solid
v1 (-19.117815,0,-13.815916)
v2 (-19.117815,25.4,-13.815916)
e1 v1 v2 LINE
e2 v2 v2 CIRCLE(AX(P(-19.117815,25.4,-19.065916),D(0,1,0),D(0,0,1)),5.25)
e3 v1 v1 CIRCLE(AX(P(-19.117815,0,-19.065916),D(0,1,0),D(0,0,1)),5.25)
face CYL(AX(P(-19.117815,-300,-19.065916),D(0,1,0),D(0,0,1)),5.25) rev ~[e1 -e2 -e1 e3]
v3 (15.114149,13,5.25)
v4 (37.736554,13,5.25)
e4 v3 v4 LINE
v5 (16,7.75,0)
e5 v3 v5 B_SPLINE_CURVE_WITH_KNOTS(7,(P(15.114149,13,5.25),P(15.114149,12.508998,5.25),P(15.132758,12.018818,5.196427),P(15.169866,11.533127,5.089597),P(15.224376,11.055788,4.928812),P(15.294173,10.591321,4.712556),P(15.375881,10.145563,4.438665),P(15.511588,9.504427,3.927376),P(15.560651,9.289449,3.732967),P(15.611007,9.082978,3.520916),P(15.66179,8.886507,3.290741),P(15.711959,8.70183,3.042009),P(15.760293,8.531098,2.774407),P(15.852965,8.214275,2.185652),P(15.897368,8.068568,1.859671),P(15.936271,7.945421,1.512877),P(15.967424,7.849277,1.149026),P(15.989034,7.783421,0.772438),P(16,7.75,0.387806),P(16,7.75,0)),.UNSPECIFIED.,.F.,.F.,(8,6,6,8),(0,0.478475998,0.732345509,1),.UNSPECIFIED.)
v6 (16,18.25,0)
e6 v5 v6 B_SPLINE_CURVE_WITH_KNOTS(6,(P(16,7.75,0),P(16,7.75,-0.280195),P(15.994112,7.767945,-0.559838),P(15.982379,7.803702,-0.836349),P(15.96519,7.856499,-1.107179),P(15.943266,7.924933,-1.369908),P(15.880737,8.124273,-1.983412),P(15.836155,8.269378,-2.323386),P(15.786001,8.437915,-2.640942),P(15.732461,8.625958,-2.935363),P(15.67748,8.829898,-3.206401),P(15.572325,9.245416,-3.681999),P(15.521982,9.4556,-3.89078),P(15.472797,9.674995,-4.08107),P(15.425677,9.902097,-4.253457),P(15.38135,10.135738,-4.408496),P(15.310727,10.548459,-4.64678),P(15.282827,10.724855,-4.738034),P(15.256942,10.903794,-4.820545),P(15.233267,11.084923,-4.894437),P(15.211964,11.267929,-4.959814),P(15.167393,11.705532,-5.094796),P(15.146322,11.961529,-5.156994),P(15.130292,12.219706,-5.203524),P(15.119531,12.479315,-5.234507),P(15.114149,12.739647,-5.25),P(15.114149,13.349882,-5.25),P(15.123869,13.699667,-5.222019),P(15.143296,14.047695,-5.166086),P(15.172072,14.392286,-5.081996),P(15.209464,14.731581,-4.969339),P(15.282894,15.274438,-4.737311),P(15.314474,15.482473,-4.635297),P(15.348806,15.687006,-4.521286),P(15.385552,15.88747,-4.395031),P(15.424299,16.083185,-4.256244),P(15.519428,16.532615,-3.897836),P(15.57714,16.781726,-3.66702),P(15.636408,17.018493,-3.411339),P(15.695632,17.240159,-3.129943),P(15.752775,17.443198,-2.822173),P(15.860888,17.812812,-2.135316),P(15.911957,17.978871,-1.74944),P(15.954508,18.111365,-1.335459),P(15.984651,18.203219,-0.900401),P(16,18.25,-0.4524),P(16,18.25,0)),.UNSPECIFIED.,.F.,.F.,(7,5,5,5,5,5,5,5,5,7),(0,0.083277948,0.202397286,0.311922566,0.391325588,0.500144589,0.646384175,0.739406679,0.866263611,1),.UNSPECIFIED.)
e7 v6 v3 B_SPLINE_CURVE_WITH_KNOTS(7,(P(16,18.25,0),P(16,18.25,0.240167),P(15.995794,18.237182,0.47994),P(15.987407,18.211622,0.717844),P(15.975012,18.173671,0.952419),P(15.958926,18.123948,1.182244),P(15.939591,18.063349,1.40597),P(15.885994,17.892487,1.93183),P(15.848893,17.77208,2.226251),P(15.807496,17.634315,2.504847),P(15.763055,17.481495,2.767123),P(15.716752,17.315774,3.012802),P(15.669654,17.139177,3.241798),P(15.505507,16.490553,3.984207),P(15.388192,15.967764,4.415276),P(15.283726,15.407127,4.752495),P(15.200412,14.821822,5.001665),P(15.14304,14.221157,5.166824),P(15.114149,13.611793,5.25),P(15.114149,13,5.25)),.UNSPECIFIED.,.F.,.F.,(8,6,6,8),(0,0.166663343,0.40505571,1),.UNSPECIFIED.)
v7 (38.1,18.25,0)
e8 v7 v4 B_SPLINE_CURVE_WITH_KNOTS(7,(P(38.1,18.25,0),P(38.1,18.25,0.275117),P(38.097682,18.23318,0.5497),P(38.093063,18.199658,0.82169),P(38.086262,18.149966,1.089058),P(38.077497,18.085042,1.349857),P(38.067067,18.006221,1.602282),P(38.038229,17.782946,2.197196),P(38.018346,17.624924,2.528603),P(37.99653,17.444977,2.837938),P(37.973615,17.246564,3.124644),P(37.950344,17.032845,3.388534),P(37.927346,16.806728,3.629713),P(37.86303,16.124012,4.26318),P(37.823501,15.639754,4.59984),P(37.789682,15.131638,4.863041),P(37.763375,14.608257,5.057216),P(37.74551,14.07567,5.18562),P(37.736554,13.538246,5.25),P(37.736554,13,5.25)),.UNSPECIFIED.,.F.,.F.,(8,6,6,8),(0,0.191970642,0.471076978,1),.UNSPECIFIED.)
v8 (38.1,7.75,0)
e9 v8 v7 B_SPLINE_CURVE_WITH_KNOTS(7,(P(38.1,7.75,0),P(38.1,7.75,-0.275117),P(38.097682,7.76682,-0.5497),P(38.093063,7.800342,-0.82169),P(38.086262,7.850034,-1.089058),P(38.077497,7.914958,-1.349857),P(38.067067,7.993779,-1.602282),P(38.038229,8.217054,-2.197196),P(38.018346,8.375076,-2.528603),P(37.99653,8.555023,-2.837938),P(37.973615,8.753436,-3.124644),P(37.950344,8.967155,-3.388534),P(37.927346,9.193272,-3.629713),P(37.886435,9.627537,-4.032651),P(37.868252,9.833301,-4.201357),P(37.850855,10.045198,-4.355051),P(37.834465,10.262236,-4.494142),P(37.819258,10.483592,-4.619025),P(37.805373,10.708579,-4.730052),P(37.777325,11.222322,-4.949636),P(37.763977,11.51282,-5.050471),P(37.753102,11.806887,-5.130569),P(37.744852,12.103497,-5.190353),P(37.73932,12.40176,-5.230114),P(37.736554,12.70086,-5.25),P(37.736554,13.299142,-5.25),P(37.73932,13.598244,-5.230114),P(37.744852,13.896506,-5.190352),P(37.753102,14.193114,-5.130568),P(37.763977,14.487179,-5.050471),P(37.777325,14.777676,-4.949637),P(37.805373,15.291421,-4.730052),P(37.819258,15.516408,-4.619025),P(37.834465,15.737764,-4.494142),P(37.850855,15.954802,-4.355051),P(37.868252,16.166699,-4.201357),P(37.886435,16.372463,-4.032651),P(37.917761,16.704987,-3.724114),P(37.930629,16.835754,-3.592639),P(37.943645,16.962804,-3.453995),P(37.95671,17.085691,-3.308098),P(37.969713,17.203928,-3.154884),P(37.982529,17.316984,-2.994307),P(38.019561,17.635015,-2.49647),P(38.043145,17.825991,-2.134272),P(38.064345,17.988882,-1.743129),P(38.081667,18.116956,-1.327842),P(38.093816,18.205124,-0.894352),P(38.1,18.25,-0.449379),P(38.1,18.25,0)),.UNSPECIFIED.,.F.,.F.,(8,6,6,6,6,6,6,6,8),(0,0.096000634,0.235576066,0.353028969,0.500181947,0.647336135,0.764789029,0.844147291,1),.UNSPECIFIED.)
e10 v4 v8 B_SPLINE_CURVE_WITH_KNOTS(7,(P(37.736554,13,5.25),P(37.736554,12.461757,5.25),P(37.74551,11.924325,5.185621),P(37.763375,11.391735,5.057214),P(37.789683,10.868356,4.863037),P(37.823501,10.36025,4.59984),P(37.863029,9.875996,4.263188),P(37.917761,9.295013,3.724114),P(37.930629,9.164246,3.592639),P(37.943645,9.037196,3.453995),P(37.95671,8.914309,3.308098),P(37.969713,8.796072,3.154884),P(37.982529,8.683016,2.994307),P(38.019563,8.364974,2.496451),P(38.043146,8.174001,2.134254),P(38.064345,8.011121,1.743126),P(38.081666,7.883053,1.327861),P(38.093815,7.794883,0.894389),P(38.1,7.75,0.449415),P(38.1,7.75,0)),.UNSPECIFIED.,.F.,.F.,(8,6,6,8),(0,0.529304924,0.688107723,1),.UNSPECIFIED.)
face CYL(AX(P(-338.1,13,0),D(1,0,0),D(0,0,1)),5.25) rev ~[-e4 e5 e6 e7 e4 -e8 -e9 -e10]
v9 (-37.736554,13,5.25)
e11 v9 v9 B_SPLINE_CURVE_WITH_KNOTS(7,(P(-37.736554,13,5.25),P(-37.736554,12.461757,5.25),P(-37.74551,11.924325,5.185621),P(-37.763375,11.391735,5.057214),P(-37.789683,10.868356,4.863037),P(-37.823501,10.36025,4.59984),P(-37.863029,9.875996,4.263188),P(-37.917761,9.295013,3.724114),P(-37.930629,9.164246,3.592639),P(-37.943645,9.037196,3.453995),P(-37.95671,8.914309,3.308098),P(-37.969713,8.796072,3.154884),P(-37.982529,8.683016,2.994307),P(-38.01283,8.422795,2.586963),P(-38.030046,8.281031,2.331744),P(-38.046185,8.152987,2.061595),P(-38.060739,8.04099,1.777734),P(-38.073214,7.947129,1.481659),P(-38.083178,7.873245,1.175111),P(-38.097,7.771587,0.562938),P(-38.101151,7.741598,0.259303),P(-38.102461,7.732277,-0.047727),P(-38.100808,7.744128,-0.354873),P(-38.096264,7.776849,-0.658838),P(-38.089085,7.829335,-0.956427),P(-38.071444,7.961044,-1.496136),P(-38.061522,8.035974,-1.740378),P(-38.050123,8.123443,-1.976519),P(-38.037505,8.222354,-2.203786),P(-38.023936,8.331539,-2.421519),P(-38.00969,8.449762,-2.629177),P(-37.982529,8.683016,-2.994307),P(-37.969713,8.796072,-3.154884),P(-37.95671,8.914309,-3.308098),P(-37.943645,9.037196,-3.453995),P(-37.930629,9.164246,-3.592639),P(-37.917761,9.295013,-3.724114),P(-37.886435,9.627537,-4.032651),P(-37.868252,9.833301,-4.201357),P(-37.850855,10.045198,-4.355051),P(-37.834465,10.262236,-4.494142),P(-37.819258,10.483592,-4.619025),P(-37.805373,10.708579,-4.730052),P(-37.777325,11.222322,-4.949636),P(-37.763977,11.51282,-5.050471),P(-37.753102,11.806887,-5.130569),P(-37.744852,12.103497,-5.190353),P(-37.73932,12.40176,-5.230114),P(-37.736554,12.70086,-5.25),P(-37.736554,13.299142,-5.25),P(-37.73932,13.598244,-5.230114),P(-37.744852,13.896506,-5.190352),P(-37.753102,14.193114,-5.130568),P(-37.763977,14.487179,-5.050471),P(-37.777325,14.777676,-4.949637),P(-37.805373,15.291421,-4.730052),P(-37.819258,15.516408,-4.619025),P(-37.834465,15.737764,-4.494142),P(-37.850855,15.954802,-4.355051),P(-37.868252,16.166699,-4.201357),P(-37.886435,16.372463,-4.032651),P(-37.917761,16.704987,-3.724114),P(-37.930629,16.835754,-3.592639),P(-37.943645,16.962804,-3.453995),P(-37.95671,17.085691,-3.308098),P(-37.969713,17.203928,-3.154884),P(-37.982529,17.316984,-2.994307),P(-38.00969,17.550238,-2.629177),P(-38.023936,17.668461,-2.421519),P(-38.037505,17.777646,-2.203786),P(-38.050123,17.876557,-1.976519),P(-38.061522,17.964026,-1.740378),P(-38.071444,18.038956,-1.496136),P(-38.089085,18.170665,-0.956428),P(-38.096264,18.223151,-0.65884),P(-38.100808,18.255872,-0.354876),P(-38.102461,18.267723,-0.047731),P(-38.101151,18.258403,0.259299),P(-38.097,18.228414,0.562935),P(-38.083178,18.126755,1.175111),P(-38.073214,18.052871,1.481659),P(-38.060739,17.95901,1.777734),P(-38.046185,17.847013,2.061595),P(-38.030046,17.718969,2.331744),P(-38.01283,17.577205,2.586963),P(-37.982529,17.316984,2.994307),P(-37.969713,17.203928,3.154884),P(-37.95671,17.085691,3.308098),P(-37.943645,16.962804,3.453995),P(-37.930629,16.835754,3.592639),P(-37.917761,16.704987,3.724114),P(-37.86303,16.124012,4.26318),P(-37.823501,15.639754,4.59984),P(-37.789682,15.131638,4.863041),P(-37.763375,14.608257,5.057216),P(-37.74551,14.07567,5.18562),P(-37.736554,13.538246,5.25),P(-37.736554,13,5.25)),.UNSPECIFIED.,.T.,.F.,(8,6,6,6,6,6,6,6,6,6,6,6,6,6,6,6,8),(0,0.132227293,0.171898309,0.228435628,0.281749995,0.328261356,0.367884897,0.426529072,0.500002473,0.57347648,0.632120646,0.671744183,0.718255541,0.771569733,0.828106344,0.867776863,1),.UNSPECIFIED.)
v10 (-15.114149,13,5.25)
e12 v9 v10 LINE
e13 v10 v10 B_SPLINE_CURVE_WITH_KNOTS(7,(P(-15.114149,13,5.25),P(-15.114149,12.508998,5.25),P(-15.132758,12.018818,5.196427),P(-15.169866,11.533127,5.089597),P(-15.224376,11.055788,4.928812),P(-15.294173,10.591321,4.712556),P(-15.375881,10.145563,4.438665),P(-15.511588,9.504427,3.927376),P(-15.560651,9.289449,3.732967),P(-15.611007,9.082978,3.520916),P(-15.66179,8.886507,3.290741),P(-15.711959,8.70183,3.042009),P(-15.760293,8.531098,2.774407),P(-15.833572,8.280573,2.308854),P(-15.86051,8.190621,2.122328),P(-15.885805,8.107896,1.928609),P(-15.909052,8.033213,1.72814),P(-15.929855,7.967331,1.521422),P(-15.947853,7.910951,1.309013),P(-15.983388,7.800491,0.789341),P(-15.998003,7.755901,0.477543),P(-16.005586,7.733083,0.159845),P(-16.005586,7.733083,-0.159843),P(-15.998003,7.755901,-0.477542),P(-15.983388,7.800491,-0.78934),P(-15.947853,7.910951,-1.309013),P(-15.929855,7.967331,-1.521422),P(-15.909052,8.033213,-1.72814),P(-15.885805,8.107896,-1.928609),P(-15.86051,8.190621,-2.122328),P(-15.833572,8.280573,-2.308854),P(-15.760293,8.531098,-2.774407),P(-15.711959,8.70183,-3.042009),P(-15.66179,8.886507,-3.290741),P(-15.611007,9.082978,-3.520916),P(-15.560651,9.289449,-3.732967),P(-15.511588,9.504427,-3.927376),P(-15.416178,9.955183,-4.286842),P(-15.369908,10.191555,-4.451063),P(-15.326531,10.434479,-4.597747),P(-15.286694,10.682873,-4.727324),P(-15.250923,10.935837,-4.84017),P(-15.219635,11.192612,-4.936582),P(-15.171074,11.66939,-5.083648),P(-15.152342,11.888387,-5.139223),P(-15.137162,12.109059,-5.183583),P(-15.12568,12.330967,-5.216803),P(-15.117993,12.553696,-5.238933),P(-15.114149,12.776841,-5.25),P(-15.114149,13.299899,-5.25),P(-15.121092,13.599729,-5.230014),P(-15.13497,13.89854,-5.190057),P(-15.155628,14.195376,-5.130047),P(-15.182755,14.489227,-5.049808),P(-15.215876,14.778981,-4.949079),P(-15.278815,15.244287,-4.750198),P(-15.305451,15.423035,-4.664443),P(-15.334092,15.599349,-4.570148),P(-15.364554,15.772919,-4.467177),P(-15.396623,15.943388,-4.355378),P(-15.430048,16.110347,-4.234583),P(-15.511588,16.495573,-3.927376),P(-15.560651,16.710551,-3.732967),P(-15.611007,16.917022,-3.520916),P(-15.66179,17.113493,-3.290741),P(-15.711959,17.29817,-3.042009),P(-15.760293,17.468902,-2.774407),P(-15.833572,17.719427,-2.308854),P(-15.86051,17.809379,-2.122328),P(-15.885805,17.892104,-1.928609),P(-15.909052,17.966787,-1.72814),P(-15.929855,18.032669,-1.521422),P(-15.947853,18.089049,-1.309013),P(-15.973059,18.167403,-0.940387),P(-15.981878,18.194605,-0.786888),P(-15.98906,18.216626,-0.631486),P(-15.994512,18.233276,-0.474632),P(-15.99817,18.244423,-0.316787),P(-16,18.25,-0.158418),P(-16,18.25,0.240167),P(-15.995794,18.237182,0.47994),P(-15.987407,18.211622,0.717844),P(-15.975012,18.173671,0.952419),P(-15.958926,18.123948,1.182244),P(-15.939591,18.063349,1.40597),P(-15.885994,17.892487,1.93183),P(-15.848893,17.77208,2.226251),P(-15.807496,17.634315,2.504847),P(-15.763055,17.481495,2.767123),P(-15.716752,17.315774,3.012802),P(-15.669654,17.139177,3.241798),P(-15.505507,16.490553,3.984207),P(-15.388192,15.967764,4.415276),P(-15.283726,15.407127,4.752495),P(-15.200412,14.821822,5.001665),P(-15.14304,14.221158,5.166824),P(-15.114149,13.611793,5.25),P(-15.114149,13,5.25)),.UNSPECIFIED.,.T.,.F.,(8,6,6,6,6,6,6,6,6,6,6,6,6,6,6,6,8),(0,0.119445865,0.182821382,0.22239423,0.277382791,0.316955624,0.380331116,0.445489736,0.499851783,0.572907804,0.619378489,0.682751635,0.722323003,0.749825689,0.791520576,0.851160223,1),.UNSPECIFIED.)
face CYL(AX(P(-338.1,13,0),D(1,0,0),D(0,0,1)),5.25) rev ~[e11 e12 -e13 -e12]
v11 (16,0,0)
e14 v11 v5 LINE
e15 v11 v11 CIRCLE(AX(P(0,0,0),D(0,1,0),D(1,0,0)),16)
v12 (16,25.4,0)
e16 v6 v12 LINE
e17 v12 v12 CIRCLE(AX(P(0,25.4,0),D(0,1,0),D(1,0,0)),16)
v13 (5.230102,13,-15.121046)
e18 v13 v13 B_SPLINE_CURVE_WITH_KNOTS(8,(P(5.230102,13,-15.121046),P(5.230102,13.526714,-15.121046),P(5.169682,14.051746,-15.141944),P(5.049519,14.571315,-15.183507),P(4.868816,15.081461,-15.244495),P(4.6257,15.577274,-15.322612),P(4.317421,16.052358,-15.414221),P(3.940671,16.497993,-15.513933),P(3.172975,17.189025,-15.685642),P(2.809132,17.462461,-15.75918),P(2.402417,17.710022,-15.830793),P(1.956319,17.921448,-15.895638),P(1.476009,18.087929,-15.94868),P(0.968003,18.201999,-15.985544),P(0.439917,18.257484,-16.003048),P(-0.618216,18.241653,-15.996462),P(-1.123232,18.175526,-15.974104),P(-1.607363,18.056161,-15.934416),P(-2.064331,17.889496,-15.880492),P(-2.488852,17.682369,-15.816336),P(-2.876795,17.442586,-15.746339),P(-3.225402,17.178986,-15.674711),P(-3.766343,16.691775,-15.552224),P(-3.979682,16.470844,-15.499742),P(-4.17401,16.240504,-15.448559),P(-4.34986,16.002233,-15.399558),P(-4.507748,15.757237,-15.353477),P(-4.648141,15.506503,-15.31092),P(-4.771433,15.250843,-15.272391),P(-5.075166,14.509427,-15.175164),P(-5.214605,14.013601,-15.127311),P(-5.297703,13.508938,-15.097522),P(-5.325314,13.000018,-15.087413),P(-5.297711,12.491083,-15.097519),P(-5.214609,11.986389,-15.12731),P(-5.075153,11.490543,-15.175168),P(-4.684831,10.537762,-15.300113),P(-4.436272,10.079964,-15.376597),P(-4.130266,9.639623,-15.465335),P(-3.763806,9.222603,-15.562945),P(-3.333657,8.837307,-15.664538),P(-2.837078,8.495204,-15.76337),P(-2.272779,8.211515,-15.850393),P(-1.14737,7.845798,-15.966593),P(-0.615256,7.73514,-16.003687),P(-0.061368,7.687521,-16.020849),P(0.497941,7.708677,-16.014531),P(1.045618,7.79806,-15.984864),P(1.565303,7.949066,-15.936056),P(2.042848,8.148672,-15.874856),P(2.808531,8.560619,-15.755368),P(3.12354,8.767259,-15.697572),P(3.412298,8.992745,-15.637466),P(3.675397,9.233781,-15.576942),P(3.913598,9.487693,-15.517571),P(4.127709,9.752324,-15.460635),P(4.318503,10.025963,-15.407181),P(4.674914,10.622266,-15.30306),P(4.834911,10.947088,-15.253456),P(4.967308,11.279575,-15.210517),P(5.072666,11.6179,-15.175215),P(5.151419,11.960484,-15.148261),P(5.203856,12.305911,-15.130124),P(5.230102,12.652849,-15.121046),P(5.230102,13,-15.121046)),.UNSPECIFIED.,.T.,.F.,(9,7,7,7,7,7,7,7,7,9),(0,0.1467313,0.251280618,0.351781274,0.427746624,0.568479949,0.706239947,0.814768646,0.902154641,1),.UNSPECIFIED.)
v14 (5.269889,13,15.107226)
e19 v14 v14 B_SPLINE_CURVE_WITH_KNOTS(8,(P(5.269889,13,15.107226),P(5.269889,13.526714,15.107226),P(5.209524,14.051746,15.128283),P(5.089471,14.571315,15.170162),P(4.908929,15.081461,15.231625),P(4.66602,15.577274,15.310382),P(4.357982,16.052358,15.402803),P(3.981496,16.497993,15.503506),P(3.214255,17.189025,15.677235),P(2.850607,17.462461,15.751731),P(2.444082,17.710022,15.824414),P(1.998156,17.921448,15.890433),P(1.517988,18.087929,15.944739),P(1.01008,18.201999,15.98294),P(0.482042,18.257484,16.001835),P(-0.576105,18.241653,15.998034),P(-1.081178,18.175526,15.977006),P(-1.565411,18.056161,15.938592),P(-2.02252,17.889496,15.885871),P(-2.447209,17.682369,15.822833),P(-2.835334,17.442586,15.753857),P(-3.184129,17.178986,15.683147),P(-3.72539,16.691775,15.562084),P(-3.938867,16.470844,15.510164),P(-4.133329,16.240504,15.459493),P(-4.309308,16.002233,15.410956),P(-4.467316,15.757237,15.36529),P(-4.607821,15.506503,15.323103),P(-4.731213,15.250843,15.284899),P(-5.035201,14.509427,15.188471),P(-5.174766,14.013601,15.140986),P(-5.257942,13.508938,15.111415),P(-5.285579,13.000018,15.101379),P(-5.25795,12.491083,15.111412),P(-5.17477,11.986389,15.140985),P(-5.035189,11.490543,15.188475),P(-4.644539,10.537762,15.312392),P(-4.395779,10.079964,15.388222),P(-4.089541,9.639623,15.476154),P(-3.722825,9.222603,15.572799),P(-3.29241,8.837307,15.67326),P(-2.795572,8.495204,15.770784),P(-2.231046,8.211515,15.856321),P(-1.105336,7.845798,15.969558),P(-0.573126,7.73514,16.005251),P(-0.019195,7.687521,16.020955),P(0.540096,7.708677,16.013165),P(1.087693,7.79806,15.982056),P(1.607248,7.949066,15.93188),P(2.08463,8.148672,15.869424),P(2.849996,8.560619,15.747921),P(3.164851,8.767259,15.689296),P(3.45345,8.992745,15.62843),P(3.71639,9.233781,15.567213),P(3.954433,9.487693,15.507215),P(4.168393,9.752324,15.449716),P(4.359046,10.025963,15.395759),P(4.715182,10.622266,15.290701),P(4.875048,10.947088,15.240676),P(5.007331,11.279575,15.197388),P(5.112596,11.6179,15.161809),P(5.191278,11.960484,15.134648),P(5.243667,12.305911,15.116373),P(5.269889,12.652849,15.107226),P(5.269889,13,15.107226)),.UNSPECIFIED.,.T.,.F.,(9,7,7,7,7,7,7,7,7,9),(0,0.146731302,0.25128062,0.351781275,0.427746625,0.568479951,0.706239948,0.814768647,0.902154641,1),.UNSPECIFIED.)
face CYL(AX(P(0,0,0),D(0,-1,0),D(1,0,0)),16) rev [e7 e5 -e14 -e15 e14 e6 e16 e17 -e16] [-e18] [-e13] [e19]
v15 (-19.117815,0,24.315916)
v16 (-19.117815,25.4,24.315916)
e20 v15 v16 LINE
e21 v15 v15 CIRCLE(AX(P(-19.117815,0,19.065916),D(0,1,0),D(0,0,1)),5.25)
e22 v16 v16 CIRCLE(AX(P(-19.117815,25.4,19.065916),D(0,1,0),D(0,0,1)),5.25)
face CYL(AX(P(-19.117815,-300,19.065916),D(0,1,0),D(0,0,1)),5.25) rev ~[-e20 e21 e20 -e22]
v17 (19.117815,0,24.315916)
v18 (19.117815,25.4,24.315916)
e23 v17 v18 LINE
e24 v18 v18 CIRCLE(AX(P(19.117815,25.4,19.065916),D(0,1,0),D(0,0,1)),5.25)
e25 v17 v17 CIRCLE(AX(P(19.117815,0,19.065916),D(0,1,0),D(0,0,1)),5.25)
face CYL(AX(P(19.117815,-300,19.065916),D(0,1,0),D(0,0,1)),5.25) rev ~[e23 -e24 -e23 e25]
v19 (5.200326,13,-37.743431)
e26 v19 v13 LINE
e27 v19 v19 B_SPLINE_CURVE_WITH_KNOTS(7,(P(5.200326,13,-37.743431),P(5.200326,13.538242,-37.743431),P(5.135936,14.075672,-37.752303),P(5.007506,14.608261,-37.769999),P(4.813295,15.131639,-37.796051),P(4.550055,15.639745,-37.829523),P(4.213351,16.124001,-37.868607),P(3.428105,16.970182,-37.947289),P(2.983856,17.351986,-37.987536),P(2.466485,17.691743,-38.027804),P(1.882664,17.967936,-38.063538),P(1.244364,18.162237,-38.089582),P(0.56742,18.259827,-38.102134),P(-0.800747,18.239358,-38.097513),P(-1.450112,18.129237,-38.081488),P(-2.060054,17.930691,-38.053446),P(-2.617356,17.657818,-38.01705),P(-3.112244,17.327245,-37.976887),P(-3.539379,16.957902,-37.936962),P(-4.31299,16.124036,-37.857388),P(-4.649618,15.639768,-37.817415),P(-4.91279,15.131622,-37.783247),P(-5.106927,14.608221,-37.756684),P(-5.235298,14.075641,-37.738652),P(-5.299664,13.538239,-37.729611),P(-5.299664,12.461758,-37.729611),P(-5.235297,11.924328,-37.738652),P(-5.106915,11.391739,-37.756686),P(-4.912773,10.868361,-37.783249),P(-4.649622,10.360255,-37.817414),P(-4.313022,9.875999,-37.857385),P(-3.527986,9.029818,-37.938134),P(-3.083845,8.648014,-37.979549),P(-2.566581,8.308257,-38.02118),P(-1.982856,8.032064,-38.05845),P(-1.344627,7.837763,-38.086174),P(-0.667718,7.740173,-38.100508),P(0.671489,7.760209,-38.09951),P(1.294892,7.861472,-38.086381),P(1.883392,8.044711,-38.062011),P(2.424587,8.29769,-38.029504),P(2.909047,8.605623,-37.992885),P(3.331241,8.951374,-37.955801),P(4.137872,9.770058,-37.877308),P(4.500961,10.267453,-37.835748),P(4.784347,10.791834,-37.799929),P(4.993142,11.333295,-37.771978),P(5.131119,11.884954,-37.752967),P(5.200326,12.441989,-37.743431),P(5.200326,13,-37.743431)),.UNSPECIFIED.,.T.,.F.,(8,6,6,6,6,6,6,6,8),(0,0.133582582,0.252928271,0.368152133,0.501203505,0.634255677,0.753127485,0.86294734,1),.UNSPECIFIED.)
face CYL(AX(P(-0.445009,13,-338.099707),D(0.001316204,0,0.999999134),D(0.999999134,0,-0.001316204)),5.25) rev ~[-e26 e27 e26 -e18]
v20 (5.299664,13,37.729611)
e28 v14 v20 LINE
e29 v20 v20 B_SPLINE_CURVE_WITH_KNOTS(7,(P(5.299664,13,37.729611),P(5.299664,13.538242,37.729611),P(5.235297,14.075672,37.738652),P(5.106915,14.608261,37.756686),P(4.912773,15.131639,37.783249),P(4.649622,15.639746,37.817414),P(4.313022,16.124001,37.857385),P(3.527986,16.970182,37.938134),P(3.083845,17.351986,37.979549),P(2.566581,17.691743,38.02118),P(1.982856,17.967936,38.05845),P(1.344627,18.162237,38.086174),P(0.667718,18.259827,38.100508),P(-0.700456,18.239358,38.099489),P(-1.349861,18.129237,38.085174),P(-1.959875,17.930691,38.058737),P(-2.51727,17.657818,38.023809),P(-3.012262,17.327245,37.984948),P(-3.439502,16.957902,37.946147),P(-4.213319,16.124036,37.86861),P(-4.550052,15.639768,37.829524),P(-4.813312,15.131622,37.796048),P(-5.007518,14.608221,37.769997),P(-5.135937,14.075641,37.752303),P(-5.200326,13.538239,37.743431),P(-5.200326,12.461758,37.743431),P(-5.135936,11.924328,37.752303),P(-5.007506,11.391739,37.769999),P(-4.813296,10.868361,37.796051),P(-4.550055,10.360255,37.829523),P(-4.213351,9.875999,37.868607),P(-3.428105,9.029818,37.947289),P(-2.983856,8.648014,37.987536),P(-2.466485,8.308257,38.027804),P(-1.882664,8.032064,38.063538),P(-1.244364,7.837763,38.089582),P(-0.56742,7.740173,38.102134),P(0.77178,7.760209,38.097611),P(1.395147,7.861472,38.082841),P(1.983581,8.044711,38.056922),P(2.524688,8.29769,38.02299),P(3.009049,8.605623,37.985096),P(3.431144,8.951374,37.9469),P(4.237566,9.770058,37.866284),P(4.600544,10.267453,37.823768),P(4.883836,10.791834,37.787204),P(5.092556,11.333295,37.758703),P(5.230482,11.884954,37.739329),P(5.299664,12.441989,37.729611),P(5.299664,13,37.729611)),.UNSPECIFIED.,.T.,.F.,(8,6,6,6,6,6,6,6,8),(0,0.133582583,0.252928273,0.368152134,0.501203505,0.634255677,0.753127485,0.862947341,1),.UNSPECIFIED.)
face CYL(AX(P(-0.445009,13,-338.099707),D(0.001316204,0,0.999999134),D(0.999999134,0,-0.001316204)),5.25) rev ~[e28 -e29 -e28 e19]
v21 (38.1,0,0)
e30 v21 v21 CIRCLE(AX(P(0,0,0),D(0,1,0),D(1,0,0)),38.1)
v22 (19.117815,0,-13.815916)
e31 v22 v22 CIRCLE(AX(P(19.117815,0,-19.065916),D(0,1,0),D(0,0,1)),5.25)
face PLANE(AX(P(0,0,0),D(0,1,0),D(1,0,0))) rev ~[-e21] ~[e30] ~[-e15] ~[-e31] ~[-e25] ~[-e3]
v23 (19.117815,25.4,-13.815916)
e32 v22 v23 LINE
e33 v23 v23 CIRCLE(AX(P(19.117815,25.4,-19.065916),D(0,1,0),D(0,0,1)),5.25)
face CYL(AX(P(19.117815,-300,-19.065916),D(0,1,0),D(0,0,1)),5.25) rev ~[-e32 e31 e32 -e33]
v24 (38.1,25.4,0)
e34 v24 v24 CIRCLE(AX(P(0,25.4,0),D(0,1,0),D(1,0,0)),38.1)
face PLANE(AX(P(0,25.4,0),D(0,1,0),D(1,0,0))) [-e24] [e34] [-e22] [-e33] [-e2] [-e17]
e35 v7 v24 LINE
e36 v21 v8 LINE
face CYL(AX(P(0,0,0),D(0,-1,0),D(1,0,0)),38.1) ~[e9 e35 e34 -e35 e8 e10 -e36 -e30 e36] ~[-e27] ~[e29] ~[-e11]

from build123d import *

# Parameters (mm, degrees)
SKETCH1_R                                  = 38.1
SKETCH1_R_2                                = 16
BOSS_EXTRUDE1_DEPTH                        = 25.4
F_10_5_10_5_DIAMETER_HOLE1_D               = 10.5
F_10_5_10_5_DIAMETER_HOLE1_DEPTH           = 300
F_10_5_10_5_DIAMETER_HOLE1_TIP             = 3.15451825
F_10_5_10_5_DIAMETER_HOLE1_ON_FACE_2_D     = 10.5
F_10_5_10_5_DIAMETER_HOLE1_ON_FACE_2_DEPTH = 300
F_10_5_10_5_DIAMETER_HOLE1_ON_FACE_2_TIP   = 3.15451825
F_10_5_10_5_DIAMETER_HOLE1_ON_FACE_3_D     = 10.5
F_10_5_10_5_DIAMETER_HOLE1_ON_FACE_3_DEPTH = 300
F_10_5_10_5_DIAMETER_HOLE1_ON_FACE_3_TIP   = 3.15451825


with BuildPart() as part:
    # Sketch1 → Boss-Extrude1 (new body)
    with BuildSketch(Plane(origin=(0, 0, 0), x_dir=(1, 0, 0), z_dir=(0, 1, 0))):
        Circle(SKETCH1_R)
        Circle(SKETCH1_R_2, mode=Mode.SUBTRACT)
    extrude(amount=BOSS_EXTRUDE1_DEPTH)

    # Ø10.5 (10.5) Diameter Hole1
    with Locations(Plane(origin=(-0.05014739, 13, -38.099966998), x_dir=(-0.999999134, 0, 0.001316204), z_dir=(-0.001316204, 0, -0.999999134))):
        with Locations((0, 0)):
            Hole(F_10_5_10_5_DIAMETER_HOLE1_D / 2, depth=F_10_5_10_5_DIAMETER_HOLE1_DEPTH)
            with Locations((0, 0, -(F_10_5_10_5_DIAMETER_HOLE1_DEPTH + F_10_5_10_5_DIAMETER_HOLE1_TIP / 2))):  # 118° drill point
                Cone(0, F_10_5_10_5_DIAMETER_HOLE1_D / 2, F_10_5_10_5_DIAMETER_HOLE1_TIP, mode=Mode.SUBTRACT)

    # Ø10.5 (10.5) Diameter Hole1 on face 2
    with Locations(Plane(origin=(-38.1, 13, 0), x_dir=(0, 0, -1), z_dir=(-1, 0, 0))):
        with Locations((0, 0)):
            Hole(F_10_5_10_5_DIAMETER_HOLE1_ON_FACE_2_D / 2, depth=F_10_5_10_5_DIAMETER_HOLE1_ON_FACE_2_DEPTH)
            with Locations((0, 0, -(F_10_5_10_5_DIAMETER_HOLE1_ON_FACE_2_DEPTH + F_10_5_10_5_DIAMETER_HOLE1_ON_FACE_2_TIP / 2))):  # 118° drill point
                Cone(0, F_10_5_10_5_DIAMETER_HOLE1_ON_FACE_2_D / 2, F_10_5_10_5_DIAMETER_HOLE1_ON_FACE_2_TIP, mode=Mode.SUBTRACT)

    # Ø10.5 (10.5) Diameter Hole1 on face 3
    with Locations(Plane(origin=(19.117815044, 0, -19.06591587), x_dir=(0, 0, -1), z_dir=(0, -1, 0))):
        with Locations((0, 0), (0, -38.235630088), (-38.13183174, -38.235630088), (-38.13183174, 0)):
            Hole(F_10_5_10_5_DIAMETER_HOLE1_ON_FACE_3_D / 2, depth=F_10_5_10_5_DIAMETER_HOLE1_ON_FACE_3_DEPTH)
            with Locations((0, 0, -(F_10_5_10_5_DIAMETER_HOLE1_ON_FACE_3_DEPTH + F_10_5_10_5_DIAMETER_HOLE1_ON_FACE_3_TIP / 2))):  # 118° drill point
                Cone(0, F_10_5_10_5_DIAMETER_HOLE1_ON_FACE_3_D / 2, F_10_5_10_5_DIAMETER_HOLE1_ON_FACE_3_TIP, mode=Mode.SUBTRACT)


solid = part.part
